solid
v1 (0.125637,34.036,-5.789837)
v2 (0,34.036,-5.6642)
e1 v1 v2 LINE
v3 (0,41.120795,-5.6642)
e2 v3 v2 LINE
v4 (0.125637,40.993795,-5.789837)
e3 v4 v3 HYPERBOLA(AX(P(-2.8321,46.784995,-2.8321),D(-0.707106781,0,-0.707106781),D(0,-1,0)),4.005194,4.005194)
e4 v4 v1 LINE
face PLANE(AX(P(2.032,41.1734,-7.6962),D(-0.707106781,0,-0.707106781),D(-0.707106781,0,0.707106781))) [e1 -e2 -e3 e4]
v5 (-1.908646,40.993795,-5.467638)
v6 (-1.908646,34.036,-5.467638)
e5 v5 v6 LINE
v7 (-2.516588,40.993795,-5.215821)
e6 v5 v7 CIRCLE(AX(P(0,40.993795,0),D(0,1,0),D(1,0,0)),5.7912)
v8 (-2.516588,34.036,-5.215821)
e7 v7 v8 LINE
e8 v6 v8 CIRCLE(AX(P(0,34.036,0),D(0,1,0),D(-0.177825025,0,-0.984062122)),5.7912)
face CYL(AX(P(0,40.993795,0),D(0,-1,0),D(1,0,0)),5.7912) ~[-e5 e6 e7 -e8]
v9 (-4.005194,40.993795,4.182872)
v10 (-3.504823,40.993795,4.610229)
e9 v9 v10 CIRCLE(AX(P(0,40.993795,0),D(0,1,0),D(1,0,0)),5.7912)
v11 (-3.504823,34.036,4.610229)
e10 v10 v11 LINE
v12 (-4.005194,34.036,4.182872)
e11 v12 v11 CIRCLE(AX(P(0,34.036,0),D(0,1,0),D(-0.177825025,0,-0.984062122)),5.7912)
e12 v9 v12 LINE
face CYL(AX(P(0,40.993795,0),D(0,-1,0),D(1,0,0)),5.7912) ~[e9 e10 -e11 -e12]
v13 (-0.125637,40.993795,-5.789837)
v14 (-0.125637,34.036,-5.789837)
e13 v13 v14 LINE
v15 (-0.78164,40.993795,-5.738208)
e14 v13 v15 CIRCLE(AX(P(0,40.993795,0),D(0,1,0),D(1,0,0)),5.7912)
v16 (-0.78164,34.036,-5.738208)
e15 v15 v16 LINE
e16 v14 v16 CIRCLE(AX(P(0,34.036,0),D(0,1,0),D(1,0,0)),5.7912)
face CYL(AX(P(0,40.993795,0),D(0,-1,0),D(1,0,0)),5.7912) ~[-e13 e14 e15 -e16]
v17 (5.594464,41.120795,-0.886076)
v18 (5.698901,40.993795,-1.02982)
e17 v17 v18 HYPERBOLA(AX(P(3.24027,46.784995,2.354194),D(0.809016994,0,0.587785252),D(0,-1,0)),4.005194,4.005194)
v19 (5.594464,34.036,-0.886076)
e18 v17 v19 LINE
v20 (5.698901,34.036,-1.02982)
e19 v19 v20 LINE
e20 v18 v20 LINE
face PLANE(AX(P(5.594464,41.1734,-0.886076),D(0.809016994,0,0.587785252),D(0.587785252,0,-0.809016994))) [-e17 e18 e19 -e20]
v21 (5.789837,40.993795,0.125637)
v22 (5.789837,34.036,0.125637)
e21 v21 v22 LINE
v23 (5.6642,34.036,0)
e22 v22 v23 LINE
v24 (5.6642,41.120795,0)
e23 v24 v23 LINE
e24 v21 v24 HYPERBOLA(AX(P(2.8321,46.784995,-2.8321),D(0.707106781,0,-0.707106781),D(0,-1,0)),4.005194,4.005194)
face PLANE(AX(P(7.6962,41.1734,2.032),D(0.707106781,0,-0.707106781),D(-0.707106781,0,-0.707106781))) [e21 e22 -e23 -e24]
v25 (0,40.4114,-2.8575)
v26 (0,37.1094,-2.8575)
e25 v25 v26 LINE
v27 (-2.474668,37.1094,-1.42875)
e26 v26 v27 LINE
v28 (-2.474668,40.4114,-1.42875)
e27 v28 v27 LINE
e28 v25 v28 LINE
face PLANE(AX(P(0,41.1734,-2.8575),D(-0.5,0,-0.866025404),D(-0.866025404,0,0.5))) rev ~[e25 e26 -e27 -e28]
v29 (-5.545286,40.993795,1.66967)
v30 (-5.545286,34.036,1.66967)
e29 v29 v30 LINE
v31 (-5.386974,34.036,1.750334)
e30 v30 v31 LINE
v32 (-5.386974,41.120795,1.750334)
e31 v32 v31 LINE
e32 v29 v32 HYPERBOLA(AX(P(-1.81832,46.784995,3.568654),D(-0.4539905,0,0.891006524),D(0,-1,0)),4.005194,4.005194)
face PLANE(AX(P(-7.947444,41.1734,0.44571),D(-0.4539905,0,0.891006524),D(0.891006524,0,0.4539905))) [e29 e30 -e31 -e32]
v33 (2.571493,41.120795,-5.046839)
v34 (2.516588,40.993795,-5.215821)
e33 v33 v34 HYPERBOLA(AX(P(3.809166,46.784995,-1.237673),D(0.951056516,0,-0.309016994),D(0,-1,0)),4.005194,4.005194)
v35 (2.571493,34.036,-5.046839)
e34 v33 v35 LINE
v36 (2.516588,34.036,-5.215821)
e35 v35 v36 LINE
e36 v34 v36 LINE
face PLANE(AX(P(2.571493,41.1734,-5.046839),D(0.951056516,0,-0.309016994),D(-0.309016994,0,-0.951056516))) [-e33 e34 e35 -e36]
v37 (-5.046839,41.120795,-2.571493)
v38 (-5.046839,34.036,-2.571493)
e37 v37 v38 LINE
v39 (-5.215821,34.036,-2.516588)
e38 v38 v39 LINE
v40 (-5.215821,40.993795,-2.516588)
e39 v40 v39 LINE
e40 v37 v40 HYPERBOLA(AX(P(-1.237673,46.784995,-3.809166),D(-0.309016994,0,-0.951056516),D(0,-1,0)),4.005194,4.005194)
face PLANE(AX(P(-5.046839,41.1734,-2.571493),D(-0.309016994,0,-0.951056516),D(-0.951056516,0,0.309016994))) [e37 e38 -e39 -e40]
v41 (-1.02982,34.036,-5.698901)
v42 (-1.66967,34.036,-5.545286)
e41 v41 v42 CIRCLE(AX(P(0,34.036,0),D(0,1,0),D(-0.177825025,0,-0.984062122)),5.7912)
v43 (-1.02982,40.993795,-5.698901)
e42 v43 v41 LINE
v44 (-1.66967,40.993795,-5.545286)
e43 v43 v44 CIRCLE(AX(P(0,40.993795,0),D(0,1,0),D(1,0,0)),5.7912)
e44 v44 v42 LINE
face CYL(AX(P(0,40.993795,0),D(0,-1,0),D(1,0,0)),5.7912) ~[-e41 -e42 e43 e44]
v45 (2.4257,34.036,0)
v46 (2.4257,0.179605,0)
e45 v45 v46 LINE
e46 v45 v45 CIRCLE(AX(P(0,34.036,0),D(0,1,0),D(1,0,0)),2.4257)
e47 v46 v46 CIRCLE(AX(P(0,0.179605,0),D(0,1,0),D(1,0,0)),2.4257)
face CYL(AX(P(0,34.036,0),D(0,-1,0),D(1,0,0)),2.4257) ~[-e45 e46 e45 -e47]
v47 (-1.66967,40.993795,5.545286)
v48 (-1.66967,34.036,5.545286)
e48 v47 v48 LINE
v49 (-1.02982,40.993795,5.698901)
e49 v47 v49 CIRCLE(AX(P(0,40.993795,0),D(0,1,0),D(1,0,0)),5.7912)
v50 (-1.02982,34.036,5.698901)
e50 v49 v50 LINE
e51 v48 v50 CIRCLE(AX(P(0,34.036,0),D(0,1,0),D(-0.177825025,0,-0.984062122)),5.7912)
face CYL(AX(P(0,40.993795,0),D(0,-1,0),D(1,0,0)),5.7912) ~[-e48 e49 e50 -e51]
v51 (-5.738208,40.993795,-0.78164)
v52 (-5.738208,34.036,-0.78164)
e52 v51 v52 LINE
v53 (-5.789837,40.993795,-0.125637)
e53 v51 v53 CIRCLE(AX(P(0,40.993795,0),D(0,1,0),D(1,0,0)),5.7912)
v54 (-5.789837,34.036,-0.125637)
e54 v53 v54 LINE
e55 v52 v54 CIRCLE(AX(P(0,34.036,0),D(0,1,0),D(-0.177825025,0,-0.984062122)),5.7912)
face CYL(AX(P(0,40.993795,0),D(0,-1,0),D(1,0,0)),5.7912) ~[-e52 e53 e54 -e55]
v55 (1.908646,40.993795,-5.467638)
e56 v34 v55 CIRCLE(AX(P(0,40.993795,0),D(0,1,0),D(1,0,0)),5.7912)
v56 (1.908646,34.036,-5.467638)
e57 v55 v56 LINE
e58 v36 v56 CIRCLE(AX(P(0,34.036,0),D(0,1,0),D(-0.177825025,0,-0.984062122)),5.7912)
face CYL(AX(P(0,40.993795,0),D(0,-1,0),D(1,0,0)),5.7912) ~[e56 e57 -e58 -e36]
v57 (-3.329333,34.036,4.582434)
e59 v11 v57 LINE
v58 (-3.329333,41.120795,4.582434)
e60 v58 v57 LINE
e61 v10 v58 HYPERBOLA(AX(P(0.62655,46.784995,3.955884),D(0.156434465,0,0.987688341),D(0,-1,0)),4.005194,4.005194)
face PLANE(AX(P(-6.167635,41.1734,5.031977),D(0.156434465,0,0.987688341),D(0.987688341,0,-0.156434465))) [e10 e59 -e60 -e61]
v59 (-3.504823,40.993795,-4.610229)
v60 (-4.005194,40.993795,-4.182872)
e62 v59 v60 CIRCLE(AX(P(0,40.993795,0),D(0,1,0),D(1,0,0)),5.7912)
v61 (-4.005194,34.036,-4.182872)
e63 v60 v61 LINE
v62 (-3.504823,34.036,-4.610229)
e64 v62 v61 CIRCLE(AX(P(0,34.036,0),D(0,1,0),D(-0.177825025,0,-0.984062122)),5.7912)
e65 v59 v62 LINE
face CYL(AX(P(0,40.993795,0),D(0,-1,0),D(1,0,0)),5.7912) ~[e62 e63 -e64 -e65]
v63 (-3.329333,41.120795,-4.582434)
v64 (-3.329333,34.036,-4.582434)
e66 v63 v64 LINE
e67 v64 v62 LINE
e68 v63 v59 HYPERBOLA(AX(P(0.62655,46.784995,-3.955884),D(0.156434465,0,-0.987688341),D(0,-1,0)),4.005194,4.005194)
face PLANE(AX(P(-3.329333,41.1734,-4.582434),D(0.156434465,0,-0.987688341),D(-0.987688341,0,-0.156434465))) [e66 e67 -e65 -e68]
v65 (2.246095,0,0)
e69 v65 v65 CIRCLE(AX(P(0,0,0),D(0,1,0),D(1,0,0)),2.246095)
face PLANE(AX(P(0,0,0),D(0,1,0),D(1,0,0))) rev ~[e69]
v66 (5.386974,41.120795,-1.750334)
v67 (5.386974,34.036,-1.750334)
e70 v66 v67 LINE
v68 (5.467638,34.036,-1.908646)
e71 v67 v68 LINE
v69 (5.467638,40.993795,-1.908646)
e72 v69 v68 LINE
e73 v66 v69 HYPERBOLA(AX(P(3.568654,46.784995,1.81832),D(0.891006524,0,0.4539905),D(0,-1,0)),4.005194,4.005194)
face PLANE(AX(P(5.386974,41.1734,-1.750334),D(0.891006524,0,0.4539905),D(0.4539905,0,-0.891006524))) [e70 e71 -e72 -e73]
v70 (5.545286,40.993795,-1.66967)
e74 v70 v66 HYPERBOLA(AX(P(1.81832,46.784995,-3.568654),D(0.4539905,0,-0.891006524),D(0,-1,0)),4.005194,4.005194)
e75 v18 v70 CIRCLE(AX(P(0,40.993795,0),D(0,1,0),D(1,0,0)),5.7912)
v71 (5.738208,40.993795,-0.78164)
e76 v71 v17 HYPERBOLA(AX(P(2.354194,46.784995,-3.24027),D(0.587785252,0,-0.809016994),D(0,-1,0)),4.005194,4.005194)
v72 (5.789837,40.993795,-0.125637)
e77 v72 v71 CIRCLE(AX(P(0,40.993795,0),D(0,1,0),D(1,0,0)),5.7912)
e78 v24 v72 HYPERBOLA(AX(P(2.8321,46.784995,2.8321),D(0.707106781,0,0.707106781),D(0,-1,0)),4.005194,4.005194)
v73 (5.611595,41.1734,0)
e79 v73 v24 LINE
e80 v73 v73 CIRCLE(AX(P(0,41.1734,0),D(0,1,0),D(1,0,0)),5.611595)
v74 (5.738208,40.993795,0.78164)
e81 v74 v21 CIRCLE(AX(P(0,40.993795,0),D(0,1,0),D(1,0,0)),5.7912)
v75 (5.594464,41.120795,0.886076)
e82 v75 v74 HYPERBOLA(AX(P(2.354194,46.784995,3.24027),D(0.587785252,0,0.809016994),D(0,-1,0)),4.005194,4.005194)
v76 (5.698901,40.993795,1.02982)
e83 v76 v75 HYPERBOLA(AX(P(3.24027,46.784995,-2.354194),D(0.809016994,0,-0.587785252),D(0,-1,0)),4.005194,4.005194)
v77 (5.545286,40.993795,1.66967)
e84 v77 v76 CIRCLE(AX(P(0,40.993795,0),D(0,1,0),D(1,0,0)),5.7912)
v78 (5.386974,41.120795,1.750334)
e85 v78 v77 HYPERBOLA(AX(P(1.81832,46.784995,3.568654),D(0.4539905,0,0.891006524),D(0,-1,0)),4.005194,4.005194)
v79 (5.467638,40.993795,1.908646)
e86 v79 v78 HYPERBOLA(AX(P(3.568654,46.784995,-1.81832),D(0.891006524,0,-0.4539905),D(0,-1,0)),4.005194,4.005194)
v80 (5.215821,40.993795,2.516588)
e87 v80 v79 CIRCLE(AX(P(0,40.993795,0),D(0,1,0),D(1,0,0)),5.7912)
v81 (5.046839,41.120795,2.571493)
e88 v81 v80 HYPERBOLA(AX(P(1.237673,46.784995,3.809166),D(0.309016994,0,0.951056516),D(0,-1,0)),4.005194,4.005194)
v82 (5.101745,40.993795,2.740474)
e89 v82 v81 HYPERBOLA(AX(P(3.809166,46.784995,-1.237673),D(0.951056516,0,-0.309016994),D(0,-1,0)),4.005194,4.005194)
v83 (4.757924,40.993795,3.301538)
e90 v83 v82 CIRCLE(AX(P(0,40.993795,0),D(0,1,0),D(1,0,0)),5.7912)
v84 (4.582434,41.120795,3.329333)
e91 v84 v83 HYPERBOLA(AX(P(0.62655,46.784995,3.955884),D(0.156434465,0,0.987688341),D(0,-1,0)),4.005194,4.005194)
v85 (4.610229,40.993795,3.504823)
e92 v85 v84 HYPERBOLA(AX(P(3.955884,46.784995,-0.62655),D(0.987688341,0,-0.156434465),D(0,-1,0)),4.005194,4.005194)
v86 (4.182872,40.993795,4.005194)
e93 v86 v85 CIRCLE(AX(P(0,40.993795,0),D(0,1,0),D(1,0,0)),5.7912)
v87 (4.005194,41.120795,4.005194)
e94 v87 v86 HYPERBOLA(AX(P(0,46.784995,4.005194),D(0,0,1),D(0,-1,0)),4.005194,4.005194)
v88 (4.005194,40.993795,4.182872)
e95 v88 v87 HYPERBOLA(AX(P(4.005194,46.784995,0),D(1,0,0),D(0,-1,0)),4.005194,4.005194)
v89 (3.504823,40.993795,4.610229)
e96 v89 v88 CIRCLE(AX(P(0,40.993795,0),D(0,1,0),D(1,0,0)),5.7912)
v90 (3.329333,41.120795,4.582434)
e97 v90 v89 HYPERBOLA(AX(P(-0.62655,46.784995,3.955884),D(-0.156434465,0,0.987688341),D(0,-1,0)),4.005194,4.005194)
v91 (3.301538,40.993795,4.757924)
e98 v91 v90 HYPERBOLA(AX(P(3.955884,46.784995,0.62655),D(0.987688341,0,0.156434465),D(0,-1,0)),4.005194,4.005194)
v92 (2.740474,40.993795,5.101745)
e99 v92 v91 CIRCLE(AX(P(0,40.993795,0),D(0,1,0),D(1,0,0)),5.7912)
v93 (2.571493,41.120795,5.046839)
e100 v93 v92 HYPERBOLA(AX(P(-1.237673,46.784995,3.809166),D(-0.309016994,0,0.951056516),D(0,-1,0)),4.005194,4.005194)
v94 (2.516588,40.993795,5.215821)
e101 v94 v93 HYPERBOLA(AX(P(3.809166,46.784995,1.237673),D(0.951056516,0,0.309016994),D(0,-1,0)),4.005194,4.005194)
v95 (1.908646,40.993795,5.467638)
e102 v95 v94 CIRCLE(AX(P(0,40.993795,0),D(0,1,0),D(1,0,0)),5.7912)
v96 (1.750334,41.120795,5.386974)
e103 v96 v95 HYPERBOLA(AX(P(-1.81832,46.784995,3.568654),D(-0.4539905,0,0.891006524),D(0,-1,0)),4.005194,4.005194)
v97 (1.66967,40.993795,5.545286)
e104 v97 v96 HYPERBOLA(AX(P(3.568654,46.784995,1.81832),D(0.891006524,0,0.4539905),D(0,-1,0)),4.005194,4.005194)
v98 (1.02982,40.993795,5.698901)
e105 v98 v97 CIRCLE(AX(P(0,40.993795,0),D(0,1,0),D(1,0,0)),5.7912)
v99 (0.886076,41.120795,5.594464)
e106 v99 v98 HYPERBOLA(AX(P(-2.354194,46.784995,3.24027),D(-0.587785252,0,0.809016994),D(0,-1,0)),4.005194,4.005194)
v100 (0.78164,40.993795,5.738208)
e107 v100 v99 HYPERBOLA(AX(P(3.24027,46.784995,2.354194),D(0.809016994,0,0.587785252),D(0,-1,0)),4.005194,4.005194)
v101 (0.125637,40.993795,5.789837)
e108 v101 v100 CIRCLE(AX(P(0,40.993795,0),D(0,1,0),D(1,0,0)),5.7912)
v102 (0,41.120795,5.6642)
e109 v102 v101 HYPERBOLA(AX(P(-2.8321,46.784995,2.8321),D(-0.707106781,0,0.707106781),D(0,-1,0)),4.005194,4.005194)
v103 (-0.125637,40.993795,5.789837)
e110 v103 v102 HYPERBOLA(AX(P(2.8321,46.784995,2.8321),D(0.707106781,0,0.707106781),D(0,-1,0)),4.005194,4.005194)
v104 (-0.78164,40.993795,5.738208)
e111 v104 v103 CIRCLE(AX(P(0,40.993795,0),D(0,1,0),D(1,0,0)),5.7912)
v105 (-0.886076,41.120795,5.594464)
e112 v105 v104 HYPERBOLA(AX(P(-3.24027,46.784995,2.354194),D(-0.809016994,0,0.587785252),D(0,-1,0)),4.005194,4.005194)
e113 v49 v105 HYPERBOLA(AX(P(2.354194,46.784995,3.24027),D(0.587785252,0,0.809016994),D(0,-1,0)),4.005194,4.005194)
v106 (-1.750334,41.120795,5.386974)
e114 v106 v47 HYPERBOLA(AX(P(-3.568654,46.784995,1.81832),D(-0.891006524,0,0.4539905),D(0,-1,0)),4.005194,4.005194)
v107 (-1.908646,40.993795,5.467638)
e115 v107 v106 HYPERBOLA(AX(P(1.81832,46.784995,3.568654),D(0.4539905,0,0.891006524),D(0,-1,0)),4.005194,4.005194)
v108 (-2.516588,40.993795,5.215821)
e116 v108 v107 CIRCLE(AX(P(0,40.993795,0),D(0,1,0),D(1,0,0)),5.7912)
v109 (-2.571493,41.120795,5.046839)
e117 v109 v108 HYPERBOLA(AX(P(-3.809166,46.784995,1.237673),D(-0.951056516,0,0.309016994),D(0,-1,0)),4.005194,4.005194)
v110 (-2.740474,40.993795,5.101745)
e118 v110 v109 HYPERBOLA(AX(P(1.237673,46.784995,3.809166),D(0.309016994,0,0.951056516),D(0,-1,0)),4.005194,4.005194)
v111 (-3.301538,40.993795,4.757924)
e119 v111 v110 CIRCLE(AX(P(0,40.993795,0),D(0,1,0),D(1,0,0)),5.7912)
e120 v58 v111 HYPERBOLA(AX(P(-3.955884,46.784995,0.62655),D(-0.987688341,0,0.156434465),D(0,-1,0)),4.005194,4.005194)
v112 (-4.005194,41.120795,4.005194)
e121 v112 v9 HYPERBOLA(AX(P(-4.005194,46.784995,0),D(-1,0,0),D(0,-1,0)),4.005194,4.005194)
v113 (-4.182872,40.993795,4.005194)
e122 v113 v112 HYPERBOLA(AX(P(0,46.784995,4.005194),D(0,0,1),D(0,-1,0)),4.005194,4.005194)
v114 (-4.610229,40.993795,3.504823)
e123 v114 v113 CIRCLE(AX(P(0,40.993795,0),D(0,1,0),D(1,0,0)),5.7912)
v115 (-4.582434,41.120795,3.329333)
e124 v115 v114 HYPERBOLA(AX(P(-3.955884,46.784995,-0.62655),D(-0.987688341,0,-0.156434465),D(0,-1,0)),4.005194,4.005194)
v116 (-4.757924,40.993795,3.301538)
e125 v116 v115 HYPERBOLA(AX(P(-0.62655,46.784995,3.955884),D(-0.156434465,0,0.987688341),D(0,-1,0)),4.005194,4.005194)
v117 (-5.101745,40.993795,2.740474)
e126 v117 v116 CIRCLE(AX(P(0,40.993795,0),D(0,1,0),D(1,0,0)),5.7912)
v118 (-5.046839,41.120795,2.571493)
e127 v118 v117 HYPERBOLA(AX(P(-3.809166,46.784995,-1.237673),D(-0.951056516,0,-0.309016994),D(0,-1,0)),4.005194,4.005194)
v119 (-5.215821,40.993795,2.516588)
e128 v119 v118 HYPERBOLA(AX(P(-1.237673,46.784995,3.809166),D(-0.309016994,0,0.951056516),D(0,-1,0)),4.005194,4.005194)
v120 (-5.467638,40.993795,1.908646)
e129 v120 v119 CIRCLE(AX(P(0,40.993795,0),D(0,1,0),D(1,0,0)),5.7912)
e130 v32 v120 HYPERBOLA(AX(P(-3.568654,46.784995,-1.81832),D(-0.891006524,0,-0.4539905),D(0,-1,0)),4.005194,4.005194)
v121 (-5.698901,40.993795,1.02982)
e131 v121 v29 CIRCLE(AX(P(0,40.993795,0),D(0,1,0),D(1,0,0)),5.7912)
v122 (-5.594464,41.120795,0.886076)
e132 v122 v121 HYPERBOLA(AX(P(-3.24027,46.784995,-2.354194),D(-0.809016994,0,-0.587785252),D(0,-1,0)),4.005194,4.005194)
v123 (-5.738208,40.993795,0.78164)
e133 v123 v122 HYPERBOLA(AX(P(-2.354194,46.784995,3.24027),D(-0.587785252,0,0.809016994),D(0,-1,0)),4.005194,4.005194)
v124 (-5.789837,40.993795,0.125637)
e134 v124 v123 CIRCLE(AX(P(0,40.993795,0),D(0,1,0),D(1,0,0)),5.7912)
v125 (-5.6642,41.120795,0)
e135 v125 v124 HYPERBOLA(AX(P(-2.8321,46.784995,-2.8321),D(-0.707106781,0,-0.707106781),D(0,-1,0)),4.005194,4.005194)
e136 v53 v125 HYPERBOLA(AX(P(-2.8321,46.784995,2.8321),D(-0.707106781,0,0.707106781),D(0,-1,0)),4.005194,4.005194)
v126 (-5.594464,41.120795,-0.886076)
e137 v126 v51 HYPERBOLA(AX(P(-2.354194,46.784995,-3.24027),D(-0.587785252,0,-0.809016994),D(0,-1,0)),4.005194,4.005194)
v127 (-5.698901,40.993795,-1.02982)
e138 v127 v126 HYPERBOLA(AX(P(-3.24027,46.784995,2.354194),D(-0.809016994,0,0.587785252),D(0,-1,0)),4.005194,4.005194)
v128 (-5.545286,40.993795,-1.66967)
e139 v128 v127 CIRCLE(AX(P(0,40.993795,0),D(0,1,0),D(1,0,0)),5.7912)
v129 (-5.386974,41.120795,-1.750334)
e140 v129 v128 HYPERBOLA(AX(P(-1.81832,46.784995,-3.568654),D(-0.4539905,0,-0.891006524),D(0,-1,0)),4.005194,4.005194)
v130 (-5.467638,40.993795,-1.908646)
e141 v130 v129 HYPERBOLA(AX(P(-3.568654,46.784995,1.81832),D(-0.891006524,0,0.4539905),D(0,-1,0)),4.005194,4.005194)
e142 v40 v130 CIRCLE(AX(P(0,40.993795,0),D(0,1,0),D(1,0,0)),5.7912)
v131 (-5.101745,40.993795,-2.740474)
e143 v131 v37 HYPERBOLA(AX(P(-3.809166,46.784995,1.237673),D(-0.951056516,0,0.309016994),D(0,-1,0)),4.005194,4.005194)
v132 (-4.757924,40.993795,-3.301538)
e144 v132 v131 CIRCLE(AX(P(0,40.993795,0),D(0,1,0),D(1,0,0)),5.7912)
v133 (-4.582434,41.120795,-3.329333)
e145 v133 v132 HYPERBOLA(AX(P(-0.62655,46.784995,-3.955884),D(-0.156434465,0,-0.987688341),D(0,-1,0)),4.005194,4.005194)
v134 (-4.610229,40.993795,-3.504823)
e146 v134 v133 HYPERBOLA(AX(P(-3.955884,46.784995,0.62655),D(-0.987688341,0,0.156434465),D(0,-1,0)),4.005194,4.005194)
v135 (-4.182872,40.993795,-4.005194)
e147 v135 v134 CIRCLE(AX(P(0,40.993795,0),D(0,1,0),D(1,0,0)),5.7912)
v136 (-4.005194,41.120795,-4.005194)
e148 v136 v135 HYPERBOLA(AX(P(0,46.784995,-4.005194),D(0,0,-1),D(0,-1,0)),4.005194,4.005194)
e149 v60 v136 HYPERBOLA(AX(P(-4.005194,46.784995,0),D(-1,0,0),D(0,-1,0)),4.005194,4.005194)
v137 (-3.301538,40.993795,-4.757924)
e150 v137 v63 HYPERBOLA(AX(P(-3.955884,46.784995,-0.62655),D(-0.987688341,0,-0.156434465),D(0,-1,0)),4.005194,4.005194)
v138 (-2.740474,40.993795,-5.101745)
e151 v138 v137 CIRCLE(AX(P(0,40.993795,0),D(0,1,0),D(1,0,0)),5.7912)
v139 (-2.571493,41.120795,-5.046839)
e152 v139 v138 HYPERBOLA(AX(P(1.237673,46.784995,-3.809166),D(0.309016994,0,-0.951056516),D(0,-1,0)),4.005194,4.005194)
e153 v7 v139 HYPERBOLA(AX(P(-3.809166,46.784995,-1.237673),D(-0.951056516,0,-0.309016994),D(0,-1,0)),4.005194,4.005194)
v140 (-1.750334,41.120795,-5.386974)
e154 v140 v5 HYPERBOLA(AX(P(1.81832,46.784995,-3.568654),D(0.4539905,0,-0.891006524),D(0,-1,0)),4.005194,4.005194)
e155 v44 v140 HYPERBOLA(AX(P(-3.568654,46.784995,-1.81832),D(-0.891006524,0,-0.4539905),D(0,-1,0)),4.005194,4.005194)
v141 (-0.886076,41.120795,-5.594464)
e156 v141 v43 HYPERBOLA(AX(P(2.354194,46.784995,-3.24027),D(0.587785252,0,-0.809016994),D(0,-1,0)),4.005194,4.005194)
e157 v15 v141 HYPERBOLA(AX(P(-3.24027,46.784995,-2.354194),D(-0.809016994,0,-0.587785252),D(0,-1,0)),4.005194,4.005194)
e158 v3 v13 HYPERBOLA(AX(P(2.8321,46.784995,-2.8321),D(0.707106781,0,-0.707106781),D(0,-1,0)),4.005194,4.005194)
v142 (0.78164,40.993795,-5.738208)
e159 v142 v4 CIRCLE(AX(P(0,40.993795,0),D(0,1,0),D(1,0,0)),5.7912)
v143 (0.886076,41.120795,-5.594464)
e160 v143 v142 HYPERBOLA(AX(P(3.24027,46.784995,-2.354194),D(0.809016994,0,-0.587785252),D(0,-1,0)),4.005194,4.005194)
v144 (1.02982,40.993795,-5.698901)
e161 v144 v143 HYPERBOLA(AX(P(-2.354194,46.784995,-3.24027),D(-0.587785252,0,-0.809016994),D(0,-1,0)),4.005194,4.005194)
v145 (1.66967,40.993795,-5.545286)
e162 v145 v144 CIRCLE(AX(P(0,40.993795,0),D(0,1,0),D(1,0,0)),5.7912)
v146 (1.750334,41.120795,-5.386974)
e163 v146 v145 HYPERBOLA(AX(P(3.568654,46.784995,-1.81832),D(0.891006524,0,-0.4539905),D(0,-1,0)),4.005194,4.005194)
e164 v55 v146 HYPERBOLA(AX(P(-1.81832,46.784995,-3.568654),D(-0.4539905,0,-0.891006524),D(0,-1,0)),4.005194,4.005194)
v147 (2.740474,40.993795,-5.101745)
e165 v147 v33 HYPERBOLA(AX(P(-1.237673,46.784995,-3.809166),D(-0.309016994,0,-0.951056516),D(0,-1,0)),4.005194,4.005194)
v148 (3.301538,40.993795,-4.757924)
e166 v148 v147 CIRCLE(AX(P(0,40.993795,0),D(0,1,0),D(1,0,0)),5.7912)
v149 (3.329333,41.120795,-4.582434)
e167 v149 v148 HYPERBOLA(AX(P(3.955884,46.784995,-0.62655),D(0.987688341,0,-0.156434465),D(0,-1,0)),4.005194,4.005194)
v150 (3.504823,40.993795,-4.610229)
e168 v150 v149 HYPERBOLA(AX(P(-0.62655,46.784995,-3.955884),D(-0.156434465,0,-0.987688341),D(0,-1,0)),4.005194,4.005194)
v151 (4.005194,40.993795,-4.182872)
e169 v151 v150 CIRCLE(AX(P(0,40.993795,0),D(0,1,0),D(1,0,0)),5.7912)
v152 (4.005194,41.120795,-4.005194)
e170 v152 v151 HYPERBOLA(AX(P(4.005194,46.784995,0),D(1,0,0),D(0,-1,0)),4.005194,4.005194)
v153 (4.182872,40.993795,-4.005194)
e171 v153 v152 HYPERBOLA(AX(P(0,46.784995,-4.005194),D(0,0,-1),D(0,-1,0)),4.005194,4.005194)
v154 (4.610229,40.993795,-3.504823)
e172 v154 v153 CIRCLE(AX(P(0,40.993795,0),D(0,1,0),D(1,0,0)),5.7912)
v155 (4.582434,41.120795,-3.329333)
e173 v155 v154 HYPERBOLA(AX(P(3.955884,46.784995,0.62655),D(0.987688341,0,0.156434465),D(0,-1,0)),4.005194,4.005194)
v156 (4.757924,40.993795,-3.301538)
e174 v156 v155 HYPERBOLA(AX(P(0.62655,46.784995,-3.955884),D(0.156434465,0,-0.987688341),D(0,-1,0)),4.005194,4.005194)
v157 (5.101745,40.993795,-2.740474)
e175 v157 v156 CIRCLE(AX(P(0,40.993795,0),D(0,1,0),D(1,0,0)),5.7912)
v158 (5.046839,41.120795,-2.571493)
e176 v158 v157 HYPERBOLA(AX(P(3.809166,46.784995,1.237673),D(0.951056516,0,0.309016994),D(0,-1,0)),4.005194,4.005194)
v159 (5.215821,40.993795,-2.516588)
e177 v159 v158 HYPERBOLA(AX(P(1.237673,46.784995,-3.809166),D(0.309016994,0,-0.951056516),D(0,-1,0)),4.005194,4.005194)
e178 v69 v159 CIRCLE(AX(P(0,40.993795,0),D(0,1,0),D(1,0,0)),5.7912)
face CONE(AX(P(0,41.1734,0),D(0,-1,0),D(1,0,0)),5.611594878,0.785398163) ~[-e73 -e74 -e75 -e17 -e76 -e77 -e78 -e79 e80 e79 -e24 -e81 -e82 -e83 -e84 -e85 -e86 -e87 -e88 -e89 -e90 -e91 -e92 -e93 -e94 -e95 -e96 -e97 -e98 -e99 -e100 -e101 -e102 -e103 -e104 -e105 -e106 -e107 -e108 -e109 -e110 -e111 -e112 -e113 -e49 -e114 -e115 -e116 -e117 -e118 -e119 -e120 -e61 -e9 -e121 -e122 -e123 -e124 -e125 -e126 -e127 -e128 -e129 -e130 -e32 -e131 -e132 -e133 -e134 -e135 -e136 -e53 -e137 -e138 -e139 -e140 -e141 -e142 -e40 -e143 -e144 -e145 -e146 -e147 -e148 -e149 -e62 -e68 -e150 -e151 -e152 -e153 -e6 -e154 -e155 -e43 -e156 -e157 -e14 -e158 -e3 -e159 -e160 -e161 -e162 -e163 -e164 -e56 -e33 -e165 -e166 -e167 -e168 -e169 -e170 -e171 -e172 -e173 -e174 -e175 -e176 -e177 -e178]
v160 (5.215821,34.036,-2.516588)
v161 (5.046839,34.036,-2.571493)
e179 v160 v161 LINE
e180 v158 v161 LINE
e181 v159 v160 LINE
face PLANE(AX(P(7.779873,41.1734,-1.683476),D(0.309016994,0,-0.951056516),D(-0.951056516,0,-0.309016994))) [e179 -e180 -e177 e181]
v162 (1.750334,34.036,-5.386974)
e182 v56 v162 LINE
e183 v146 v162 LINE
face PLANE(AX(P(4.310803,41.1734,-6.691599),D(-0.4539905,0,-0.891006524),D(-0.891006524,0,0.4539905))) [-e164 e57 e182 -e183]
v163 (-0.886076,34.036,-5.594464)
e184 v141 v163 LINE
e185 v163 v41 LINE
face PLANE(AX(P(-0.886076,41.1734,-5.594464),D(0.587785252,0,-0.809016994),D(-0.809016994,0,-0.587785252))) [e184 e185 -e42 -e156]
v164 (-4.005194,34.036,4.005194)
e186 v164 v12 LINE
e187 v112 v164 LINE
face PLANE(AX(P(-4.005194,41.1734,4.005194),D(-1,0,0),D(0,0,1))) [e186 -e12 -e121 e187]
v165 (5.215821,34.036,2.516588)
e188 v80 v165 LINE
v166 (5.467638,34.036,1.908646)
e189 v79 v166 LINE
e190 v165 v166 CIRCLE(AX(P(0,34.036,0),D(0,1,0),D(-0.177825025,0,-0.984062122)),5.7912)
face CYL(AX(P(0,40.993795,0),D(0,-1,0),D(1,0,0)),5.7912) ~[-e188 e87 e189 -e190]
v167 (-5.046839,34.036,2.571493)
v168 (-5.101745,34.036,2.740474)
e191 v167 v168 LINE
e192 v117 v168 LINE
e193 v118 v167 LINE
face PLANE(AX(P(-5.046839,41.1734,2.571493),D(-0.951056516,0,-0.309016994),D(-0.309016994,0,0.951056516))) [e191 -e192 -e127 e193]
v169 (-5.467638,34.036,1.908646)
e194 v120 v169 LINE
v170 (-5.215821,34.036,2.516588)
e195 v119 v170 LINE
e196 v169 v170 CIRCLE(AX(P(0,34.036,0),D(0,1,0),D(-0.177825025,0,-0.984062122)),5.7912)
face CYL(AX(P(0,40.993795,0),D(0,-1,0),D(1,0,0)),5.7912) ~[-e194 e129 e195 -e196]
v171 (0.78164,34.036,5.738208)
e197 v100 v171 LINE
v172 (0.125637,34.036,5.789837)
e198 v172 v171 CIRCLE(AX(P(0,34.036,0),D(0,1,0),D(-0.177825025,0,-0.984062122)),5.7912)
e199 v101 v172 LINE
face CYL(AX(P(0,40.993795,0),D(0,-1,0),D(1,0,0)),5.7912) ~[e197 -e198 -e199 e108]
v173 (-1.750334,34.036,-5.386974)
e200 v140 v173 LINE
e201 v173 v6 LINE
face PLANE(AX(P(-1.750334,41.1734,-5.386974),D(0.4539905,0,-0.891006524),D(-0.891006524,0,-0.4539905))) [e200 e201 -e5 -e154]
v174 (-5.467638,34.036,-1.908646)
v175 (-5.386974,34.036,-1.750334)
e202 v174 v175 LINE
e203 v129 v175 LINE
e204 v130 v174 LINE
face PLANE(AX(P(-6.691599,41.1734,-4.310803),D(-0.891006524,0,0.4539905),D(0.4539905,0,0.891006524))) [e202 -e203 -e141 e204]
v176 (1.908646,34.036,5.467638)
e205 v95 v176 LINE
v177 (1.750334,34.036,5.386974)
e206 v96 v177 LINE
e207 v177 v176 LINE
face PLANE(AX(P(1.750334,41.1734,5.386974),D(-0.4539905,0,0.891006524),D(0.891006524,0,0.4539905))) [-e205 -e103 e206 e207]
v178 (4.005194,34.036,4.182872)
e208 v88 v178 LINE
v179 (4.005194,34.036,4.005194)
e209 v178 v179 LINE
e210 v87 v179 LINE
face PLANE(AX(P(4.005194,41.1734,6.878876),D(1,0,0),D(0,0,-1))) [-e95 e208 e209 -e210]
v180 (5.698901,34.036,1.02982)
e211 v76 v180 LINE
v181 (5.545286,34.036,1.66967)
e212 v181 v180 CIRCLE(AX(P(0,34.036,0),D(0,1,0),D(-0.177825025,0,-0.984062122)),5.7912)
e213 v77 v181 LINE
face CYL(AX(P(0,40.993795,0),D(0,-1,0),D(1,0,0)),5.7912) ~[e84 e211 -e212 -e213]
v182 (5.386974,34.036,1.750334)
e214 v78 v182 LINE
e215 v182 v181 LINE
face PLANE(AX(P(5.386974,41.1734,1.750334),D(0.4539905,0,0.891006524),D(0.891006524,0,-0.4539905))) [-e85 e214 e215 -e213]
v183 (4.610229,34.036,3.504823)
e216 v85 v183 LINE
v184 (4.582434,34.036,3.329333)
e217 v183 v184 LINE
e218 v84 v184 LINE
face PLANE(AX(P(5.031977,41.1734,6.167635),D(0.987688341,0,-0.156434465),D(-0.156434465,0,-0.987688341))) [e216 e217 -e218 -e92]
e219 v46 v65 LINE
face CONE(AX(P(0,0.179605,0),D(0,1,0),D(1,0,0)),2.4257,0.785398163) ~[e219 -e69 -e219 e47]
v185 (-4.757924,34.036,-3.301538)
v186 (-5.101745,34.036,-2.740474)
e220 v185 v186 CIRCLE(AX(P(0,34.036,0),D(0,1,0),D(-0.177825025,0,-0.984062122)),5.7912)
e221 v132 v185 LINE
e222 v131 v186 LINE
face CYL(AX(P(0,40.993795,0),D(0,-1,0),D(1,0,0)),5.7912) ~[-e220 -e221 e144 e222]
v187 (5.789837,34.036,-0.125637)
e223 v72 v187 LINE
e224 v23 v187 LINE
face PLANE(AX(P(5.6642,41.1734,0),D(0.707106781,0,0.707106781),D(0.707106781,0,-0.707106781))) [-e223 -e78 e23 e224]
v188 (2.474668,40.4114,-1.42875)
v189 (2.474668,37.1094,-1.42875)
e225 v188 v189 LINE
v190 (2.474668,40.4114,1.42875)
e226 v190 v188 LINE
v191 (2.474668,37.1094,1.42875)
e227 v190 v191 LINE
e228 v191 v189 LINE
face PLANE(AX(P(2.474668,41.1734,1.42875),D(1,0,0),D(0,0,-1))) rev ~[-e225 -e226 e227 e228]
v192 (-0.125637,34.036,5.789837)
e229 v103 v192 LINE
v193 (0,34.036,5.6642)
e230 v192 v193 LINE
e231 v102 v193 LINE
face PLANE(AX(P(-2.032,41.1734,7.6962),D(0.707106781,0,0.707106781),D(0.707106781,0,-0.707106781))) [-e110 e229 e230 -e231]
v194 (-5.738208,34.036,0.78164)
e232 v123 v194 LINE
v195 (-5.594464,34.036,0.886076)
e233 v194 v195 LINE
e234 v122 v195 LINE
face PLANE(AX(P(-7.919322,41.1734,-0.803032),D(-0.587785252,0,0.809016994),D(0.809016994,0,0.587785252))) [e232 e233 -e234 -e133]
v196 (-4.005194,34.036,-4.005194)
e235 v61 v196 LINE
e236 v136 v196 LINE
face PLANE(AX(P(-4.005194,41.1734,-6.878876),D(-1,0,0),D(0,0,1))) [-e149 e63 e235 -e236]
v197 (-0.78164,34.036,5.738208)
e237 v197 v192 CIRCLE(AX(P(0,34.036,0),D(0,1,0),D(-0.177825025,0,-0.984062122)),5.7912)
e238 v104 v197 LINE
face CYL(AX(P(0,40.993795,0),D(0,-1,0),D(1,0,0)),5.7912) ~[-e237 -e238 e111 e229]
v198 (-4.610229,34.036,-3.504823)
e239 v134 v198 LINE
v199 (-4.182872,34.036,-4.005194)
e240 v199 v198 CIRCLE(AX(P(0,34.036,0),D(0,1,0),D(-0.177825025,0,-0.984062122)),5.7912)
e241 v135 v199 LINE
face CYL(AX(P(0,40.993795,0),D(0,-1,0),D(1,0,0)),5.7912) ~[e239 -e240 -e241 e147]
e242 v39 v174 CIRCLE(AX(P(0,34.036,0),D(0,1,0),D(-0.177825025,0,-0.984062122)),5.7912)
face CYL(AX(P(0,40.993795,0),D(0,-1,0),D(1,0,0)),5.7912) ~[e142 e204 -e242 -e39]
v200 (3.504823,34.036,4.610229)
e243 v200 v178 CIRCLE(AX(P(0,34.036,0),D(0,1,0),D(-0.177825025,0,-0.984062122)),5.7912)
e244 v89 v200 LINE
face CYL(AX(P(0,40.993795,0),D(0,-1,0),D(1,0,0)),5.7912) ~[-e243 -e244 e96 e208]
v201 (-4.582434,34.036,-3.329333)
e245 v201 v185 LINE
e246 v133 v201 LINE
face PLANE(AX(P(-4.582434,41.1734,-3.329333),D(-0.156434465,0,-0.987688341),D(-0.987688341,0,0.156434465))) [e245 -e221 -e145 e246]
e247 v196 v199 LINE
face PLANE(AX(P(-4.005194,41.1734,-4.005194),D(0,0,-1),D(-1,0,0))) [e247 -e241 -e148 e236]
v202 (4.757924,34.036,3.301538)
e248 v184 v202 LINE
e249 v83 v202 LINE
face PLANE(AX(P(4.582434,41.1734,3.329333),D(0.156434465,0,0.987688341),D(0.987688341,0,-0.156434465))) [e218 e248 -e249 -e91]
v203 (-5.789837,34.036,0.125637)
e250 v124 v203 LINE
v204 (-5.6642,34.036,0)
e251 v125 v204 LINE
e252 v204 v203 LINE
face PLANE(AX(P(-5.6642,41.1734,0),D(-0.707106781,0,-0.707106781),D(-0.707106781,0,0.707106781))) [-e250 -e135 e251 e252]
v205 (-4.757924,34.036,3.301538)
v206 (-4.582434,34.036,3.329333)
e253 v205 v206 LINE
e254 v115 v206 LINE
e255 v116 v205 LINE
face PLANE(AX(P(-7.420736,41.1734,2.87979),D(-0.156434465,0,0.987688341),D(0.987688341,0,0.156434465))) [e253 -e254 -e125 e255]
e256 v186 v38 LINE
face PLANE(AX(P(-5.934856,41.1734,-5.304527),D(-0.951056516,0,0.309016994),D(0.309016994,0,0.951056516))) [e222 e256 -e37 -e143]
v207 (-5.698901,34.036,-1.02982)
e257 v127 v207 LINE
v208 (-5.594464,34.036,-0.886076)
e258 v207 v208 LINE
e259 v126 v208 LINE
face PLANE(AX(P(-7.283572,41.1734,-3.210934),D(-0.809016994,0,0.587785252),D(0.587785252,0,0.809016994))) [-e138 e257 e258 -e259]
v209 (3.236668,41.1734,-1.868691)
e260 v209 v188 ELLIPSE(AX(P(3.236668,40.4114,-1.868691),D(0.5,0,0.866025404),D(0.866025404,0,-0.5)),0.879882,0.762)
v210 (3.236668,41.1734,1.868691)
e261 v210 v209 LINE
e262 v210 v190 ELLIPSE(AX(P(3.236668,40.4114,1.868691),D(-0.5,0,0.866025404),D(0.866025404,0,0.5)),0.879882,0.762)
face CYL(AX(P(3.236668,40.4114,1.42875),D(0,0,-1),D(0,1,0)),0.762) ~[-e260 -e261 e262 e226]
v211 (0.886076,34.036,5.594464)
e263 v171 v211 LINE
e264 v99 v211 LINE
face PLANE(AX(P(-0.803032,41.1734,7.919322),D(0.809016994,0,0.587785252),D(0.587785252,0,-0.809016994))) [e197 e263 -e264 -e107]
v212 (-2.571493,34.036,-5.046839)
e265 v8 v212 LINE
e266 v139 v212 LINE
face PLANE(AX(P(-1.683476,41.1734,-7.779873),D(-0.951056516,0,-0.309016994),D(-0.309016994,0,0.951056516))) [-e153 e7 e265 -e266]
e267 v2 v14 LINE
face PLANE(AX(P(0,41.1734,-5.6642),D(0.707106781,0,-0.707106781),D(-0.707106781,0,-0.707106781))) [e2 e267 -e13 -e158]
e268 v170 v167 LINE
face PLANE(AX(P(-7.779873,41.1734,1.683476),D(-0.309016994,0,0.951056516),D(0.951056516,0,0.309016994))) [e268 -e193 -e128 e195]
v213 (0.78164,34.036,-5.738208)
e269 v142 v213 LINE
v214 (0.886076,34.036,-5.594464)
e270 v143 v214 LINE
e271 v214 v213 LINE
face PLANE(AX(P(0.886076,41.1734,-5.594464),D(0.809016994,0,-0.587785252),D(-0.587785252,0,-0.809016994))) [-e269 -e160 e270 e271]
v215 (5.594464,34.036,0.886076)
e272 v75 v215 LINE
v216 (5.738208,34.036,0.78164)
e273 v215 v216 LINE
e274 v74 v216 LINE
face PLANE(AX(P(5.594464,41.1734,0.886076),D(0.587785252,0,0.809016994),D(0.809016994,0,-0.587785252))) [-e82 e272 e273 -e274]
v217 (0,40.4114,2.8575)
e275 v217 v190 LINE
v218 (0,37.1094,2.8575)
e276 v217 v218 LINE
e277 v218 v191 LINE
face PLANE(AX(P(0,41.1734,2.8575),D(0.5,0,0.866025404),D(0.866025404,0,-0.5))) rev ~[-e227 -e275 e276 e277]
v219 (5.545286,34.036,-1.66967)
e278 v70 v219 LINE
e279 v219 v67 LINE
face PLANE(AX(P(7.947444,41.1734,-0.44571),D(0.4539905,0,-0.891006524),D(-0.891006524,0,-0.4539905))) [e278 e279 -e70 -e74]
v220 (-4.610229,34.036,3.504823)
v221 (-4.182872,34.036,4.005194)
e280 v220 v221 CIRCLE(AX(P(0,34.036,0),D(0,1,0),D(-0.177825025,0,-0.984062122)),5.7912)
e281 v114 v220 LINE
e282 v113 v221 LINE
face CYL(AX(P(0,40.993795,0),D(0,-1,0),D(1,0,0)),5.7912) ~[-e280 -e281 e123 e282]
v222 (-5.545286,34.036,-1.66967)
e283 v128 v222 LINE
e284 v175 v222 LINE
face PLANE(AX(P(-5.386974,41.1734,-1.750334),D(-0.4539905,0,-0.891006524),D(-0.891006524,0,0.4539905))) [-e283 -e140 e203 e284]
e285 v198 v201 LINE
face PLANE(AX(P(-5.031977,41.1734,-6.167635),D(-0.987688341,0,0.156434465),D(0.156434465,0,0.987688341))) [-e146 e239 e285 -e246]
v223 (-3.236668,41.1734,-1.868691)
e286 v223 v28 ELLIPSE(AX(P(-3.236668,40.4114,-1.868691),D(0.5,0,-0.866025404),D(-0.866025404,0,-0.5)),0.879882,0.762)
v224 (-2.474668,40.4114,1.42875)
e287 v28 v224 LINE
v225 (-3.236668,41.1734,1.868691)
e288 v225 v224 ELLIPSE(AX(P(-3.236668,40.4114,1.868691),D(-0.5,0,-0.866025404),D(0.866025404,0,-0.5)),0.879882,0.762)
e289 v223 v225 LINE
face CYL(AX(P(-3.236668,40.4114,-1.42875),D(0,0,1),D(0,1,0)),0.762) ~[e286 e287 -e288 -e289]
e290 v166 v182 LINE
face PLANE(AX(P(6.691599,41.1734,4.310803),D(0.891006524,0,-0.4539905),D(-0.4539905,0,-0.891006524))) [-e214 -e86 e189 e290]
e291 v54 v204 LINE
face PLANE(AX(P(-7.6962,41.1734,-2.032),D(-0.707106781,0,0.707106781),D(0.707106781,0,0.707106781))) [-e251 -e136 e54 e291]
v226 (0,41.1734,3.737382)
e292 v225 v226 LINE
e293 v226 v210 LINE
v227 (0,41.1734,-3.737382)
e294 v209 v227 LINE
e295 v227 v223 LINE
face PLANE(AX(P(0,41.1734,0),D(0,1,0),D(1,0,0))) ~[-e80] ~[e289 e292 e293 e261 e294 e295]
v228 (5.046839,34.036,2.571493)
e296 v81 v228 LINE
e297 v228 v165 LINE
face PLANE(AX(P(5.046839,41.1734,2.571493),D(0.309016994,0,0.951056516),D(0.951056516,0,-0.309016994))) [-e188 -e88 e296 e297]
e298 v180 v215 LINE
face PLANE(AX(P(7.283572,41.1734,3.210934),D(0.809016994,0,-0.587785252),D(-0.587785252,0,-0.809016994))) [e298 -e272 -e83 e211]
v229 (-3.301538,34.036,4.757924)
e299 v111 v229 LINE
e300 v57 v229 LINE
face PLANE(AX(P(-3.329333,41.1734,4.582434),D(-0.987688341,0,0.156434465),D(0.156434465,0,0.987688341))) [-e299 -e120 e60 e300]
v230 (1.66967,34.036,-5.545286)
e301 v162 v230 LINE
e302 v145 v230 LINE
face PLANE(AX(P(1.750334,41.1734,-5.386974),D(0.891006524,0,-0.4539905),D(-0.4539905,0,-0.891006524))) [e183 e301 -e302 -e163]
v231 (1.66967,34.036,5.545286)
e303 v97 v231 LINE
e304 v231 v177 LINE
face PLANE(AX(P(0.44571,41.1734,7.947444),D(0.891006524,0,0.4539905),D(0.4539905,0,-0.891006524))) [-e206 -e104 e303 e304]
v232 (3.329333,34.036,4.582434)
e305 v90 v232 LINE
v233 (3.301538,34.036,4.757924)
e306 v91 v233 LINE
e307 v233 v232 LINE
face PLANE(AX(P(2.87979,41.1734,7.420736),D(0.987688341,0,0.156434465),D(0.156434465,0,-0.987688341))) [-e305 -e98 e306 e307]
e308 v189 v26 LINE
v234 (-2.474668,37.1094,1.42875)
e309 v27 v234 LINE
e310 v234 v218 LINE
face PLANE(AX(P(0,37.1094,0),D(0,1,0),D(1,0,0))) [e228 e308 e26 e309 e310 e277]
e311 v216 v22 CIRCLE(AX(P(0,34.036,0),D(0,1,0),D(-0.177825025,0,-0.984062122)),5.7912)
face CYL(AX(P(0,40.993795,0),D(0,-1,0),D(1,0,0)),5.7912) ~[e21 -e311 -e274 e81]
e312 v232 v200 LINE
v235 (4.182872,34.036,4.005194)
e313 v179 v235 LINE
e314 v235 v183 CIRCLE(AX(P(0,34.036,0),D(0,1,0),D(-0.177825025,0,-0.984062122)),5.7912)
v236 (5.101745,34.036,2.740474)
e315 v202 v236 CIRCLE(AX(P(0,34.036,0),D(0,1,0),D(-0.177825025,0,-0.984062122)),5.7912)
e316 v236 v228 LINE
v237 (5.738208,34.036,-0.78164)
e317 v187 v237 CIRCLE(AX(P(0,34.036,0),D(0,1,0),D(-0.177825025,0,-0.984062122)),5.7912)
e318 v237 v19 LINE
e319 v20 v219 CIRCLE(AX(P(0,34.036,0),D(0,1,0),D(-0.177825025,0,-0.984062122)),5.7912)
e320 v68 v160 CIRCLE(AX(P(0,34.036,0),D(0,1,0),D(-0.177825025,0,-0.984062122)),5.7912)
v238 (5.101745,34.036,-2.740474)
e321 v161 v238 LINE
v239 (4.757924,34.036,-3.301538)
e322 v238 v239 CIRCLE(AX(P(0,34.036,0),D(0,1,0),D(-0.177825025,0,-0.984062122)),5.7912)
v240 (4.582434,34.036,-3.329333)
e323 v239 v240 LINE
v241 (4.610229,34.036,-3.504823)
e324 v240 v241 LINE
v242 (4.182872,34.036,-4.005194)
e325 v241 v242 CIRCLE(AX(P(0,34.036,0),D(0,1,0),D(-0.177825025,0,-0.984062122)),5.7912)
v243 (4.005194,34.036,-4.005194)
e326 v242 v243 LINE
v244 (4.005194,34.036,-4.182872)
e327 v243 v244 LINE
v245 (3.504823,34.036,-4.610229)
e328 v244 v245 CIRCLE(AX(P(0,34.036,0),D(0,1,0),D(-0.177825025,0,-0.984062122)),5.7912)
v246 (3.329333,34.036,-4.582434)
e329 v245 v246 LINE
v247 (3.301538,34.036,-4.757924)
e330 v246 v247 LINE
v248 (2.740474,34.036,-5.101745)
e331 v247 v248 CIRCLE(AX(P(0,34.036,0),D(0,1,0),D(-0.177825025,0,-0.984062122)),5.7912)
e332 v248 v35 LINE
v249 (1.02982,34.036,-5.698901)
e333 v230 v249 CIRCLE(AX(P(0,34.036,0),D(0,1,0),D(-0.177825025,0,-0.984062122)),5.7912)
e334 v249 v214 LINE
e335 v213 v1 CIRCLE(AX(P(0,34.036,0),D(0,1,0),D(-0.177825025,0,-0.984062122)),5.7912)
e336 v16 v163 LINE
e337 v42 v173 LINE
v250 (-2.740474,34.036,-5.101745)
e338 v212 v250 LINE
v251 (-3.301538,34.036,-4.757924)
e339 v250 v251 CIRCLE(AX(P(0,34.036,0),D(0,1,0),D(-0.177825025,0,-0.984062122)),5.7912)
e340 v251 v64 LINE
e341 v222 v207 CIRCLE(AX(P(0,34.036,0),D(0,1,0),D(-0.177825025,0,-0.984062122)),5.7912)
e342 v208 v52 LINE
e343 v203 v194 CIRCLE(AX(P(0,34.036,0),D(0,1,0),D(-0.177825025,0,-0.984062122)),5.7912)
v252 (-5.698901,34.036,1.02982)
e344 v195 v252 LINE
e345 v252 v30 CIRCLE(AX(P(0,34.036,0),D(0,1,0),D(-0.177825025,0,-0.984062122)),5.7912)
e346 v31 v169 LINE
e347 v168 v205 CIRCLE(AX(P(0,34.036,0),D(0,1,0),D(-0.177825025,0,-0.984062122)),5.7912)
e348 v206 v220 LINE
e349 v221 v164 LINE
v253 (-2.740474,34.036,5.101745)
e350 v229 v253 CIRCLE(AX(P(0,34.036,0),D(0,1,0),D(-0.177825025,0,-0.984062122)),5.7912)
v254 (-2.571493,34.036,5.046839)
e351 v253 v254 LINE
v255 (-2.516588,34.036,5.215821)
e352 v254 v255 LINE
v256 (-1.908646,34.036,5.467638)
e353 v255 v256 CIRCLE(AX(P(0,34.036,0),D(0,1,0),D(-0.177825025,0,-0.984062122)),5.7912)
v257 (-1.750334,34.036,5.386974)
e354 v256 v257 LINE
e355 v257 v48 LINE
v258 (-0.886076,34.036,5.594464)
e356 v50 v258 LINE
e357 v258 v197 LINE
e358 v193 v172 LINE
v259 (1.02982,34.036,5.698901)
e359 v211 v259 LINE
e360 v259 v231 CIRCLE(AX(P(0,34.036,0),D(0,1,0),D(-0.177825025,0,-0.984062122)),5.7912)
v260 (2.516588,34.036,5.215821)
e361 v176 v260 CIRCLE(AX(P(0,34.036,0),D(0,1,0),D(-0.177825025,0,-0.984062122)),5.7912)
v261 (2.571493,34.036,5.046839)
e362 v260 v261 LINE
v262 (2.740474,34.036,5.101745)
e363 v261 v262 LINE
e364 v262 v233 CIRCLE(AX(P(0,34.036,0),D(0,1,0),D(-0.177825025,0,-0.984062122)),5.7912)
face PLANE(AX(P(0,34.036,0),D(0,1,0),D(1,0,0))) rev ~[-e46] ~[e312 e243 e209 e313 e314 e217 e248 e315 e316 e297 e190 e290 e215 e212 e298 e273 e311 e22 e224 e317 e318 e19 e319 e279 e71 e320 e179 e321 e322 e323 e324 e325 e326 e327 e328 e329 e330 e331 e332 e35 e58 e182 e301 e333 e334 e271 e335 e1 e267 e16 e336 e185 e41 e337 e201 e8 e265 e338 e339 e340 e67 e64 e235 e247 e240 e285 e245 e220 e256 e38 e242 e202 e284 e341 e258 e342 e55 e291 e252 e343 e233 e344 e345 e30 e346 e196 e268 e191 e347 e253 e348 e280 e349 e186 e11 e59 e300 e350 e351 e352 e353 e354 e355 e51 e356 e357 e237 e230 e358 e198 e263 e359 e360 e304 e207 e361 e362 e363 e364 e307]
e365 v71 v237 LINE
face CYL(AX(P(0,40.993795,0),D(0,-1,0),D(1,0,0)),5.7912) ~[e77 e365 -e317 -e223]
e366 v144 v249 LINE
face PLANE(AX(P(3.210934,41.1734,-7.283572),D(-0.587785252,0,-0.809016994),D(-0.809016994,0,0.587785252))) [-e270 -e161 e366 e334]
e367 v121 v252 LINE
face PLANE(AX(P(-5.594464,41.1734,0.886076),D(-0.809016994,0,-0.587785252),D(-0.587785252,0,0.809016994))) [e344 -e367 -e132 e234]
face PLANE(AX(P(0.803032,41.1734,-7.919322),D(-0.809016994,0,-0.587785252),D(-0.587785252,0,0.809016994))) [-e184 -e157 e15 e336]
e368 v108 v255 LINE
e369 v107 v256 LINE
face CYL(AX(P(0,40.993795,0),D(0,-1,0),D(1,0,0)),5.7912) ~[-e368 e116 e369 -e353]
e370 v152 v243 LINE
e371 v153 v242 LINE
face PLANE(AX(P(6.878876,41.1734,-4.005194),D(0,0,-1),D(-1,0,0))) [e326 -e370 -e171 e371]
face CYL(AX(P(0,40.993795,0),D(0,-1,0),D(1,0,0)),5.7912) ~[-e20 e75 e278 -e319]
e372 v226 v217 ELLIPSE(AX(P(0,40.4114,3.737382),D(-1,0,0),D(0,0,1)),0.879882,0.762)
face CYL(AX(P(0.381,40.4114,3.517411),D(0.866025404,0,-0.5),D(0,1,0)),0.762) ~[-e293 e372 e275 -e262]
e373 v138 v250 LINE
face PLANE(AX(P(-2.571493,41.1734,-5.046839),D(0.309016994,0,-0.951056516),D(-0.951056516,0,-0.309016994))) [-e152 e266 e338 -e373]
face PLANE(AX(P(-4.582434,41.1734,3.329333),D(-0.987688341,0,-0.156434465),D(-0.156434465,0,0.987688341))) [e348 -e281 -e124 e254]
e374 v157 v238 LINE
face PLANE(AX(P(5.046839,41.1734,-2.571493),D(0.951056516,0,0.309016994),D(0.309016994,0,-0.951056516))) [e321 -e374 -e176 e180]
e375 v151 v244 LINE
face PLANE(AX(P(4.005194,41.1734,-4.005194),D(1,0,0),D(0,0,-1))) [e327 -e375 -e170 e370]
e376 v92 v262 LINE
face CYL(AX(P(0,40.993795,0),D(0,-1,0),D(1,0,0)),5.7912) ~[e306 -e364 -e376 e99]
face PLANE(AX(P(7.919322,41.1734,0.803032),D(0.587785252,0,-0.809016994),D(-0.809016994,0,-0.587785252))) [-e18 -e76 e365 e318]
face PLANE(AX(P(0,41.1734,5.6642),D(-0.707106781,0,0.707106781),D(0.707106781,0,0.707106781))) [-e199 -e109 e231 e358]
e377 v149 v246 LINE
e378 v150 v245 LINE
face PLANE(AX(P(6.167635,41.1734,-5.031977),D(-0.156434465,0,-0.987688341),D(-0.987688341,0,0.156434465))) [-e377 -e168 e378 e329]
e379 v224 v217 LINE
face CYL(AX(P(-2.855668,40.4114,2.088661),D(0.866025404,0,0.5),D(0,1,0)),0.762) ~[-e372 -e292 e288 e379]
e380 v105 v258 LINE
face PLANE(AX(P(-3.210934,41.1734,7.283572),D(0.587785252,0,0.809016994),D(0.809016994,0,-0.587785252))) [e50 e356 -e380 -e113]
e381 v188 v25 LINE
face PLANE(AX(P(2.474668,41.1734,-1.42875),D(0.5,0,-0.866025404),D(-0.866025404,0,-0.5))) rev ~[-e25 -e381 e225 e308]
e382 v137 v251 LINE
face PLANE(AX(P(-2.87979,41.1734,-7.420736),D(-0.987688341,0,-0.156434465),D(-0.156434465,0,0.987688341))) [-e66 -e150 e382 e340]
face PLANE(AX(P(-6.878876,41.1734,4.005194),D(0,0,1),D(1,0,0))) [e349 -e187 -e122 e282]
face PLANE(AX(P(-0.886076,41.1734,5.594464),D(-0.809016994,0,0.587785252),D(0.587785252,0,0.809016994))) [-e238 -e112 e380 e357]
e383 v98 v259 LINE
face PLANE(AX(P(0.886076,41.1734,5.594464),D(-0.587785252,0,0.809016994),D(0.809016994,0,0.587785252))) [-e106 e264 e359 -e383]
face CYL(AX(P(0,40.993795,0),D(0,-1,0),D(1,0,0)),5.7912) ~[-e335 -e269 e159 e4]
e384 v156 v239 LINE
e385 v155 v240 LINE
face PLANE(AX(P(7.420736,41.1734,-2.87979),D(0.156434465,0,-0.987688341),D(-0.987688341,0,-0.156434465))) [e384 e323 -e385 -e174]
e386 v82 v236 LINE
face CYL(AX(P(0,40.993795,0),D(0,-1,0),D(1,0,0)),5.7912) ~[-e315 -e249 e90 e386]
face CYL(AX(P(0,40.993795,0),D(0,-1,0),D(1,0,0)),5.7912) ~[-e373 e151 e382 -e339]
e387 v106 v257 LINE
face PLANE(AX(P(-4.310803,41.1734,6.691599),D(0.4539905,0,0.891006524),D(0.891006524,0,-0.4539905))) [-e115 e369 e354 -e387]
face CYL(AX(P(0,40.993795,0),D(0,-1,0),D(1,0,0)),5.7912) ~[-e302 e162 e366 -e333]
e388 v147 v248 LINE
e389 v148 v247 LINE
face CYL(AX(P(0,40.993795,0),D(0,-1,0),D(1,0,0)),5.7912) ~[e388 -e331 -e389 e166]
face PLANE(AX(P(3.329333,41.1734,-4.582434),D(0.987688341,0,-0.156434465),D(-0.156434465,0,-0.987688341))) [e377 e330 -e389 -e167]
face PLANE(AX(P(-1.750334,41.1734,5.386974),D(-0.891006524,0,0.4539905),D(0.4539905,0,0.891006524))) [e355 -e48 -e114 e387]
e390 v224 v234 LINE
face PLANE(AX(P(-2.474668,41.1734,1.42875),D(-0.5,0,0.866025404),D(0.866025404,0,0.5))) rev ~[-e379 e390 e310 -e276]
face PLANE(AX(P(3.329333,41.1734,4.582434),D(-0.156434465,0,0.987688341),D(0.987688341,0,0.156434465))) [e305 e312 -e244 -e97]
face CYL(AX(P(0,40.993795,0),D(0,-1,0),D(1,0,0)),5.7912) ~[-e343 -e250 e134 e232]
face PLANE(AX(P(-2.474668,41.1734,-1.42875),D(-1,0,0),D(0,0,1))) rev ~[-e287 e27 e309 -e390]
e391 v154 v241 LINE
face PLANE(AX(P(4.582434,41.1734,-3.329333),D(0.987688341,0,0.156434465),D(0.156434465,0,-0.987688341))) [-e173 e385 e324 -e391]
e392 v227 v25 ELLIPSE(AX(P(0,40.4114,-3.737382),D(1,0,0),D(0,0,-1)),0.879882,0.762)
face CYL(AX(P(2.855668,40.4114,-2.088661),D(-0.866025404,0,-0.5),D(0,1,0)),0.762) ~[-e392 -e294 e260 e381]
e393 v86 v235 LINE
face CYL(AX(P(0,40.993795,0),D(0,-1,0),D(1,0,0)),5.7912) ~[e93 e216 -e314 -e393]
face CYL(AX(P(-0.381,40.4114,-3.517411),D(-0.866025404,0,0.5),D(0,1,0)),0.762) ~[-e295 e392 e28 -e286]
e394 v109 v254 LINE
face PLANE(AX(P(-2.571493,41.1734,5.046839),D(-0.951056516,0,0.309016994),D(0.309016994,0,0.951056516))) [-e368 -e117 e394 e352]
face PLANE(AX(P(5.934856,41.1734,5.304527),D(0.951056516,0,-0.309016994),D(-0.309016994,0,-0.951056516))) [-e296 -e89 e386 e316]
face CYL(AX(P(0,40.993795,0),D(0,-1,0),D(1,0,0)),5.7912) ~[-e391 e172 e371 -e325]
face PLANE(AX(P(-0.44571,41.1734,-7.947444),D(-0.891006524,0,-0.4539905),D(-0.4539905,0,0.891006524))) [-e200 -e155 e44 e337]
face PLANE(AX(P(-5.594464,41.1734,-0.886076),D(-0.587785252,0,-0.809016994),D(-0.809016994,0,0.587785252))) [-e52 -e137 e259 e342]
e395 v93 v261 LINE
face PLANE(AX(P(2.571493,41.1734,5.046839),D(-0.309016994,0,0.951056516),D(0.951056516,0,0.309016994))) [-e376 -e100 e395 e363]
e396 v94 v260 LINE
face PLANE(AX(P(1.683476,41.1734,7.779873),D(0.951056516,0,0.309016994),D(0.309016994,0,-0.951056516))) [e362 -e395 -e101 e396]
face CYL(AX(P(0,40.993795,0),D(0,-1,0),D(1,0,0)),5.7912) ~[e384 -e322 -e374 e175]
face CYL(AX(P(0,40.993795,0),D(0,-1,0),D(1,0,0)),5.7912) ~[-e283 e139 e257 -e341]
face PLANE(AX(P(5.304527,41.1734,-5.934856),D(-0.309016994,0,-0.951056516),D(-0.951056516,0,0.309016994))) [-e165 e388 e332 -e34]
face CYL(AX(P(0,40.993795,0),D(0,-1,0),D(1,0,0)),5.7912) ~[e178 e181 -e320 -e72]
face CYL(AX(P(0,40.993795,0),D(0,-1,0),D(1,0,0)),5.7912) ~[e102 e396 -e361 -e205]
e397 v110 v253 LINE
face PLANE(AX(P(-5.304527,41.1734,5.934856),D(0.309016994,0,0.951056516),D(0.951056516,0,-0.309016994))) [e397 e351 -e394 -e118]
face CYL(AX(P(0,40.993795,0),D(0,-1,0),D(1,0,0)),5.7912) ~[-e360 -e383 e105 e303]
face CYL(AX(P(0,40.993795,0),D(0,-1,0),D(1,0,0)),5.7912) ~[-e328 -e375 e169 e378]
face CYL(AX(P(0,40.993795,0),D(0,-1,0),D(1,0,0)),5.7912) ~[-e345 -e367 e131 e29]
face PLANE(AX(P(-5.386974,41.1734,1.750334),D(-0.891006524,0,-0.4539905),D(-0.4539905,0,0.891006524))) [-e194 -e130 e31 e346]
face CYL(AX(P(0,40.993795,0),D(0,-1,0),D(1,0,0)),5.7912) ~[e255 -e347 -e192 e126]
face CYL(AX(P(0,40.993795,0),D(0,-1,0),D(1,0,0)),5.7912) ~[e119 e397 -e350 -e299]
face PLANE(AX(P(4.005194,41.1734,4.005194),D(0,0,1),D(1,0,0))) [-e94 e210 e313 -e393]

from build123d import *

# Parameters (mm, degrees)
CUT_EXTRUDE1_DEPTH = 4.064
FILLET1_R          = 0.762
CUT_EXTRUDE3_DEPTH = 9.144
CIRPATTERN1_COUNT  = 40


with BuildPart() as part:
    # Sketch1 → Revolve1 (revolve)
    with BuildSketch(Plane.XY):
        Polygon((0, 0), (0, 41.1734), (5.611594878, 41.1734), (5.7912, 40.993794878), (5.7912, 34.036), (2.4257, 34.036), (2.4257, 0.179605122), (2.246094878, 0), align=None)
    revolve(axis=Axis((0, 0, 0), (0, 1, 0)))

    # Sketch2 → Cut-Extrude1 (cut)
    with BuildSketch(Plane(origin=(0, 41.1734, 0), x_dir=(1, 0, 0), z_dir=(0, 1, 0))):
        Polygon((0, -2.8575), (2.474667591, -1.42875), (2.474667591, 1.42875), (0, 2.8575), (-2.474667591, 1.42875), (-2.474667591, -1.42875), align=None)
    extrude(amount=-CUT_EXTRUDE1_DEPTH, mode=Mode.SUBTRACT)

    # Fillet1
    fillet1_edges = [part.edges().sort_by_distance(p)[0] for p in [
        (-1.237333796, 41.1734, 2.143125),
        (1.237333796, 41.1734, 2.143125),
        (2.474667591, 41.1734, 0),
        (1.237333796, 41.1734, -2.143125),
        (-1.237333796, 41.1734, -2.143125),
        (-2.474667591, 41.1734, 0),
    ]]
    fillet(fillet1_edges, radius=FILLET1_R)

    # Sketch3 → Cut-Extrude3 (cut)
    with BuildSketch(Plane(origin=(0, 41.1734, 0), x_dir=(1, 0, 0), z_dir=(0, 1, 0))):
        Polygon((0, 5.6642), (-2.032, 7.6962), (2.032, 7.6962), align=None)
    cut_extrude3 = extrude(amount=-CUT_EXTRUDE3_DEPTH, mode=Mode.SUBTRACT)

    # CirPattern1: Cut-Extrude3 ×40 about axis
    cirpattern1_axis = Axis((0, 0, 0), (0, 1, 0))
    for i in range(1, CIRPATTERN1_COUNT):
        add(cut_extrude3.rotate(cirpattern1_axis, i * 360 / CIRPATTERN1_COUNT), mode=Mode.SUBTRACT)


solid = part.part
